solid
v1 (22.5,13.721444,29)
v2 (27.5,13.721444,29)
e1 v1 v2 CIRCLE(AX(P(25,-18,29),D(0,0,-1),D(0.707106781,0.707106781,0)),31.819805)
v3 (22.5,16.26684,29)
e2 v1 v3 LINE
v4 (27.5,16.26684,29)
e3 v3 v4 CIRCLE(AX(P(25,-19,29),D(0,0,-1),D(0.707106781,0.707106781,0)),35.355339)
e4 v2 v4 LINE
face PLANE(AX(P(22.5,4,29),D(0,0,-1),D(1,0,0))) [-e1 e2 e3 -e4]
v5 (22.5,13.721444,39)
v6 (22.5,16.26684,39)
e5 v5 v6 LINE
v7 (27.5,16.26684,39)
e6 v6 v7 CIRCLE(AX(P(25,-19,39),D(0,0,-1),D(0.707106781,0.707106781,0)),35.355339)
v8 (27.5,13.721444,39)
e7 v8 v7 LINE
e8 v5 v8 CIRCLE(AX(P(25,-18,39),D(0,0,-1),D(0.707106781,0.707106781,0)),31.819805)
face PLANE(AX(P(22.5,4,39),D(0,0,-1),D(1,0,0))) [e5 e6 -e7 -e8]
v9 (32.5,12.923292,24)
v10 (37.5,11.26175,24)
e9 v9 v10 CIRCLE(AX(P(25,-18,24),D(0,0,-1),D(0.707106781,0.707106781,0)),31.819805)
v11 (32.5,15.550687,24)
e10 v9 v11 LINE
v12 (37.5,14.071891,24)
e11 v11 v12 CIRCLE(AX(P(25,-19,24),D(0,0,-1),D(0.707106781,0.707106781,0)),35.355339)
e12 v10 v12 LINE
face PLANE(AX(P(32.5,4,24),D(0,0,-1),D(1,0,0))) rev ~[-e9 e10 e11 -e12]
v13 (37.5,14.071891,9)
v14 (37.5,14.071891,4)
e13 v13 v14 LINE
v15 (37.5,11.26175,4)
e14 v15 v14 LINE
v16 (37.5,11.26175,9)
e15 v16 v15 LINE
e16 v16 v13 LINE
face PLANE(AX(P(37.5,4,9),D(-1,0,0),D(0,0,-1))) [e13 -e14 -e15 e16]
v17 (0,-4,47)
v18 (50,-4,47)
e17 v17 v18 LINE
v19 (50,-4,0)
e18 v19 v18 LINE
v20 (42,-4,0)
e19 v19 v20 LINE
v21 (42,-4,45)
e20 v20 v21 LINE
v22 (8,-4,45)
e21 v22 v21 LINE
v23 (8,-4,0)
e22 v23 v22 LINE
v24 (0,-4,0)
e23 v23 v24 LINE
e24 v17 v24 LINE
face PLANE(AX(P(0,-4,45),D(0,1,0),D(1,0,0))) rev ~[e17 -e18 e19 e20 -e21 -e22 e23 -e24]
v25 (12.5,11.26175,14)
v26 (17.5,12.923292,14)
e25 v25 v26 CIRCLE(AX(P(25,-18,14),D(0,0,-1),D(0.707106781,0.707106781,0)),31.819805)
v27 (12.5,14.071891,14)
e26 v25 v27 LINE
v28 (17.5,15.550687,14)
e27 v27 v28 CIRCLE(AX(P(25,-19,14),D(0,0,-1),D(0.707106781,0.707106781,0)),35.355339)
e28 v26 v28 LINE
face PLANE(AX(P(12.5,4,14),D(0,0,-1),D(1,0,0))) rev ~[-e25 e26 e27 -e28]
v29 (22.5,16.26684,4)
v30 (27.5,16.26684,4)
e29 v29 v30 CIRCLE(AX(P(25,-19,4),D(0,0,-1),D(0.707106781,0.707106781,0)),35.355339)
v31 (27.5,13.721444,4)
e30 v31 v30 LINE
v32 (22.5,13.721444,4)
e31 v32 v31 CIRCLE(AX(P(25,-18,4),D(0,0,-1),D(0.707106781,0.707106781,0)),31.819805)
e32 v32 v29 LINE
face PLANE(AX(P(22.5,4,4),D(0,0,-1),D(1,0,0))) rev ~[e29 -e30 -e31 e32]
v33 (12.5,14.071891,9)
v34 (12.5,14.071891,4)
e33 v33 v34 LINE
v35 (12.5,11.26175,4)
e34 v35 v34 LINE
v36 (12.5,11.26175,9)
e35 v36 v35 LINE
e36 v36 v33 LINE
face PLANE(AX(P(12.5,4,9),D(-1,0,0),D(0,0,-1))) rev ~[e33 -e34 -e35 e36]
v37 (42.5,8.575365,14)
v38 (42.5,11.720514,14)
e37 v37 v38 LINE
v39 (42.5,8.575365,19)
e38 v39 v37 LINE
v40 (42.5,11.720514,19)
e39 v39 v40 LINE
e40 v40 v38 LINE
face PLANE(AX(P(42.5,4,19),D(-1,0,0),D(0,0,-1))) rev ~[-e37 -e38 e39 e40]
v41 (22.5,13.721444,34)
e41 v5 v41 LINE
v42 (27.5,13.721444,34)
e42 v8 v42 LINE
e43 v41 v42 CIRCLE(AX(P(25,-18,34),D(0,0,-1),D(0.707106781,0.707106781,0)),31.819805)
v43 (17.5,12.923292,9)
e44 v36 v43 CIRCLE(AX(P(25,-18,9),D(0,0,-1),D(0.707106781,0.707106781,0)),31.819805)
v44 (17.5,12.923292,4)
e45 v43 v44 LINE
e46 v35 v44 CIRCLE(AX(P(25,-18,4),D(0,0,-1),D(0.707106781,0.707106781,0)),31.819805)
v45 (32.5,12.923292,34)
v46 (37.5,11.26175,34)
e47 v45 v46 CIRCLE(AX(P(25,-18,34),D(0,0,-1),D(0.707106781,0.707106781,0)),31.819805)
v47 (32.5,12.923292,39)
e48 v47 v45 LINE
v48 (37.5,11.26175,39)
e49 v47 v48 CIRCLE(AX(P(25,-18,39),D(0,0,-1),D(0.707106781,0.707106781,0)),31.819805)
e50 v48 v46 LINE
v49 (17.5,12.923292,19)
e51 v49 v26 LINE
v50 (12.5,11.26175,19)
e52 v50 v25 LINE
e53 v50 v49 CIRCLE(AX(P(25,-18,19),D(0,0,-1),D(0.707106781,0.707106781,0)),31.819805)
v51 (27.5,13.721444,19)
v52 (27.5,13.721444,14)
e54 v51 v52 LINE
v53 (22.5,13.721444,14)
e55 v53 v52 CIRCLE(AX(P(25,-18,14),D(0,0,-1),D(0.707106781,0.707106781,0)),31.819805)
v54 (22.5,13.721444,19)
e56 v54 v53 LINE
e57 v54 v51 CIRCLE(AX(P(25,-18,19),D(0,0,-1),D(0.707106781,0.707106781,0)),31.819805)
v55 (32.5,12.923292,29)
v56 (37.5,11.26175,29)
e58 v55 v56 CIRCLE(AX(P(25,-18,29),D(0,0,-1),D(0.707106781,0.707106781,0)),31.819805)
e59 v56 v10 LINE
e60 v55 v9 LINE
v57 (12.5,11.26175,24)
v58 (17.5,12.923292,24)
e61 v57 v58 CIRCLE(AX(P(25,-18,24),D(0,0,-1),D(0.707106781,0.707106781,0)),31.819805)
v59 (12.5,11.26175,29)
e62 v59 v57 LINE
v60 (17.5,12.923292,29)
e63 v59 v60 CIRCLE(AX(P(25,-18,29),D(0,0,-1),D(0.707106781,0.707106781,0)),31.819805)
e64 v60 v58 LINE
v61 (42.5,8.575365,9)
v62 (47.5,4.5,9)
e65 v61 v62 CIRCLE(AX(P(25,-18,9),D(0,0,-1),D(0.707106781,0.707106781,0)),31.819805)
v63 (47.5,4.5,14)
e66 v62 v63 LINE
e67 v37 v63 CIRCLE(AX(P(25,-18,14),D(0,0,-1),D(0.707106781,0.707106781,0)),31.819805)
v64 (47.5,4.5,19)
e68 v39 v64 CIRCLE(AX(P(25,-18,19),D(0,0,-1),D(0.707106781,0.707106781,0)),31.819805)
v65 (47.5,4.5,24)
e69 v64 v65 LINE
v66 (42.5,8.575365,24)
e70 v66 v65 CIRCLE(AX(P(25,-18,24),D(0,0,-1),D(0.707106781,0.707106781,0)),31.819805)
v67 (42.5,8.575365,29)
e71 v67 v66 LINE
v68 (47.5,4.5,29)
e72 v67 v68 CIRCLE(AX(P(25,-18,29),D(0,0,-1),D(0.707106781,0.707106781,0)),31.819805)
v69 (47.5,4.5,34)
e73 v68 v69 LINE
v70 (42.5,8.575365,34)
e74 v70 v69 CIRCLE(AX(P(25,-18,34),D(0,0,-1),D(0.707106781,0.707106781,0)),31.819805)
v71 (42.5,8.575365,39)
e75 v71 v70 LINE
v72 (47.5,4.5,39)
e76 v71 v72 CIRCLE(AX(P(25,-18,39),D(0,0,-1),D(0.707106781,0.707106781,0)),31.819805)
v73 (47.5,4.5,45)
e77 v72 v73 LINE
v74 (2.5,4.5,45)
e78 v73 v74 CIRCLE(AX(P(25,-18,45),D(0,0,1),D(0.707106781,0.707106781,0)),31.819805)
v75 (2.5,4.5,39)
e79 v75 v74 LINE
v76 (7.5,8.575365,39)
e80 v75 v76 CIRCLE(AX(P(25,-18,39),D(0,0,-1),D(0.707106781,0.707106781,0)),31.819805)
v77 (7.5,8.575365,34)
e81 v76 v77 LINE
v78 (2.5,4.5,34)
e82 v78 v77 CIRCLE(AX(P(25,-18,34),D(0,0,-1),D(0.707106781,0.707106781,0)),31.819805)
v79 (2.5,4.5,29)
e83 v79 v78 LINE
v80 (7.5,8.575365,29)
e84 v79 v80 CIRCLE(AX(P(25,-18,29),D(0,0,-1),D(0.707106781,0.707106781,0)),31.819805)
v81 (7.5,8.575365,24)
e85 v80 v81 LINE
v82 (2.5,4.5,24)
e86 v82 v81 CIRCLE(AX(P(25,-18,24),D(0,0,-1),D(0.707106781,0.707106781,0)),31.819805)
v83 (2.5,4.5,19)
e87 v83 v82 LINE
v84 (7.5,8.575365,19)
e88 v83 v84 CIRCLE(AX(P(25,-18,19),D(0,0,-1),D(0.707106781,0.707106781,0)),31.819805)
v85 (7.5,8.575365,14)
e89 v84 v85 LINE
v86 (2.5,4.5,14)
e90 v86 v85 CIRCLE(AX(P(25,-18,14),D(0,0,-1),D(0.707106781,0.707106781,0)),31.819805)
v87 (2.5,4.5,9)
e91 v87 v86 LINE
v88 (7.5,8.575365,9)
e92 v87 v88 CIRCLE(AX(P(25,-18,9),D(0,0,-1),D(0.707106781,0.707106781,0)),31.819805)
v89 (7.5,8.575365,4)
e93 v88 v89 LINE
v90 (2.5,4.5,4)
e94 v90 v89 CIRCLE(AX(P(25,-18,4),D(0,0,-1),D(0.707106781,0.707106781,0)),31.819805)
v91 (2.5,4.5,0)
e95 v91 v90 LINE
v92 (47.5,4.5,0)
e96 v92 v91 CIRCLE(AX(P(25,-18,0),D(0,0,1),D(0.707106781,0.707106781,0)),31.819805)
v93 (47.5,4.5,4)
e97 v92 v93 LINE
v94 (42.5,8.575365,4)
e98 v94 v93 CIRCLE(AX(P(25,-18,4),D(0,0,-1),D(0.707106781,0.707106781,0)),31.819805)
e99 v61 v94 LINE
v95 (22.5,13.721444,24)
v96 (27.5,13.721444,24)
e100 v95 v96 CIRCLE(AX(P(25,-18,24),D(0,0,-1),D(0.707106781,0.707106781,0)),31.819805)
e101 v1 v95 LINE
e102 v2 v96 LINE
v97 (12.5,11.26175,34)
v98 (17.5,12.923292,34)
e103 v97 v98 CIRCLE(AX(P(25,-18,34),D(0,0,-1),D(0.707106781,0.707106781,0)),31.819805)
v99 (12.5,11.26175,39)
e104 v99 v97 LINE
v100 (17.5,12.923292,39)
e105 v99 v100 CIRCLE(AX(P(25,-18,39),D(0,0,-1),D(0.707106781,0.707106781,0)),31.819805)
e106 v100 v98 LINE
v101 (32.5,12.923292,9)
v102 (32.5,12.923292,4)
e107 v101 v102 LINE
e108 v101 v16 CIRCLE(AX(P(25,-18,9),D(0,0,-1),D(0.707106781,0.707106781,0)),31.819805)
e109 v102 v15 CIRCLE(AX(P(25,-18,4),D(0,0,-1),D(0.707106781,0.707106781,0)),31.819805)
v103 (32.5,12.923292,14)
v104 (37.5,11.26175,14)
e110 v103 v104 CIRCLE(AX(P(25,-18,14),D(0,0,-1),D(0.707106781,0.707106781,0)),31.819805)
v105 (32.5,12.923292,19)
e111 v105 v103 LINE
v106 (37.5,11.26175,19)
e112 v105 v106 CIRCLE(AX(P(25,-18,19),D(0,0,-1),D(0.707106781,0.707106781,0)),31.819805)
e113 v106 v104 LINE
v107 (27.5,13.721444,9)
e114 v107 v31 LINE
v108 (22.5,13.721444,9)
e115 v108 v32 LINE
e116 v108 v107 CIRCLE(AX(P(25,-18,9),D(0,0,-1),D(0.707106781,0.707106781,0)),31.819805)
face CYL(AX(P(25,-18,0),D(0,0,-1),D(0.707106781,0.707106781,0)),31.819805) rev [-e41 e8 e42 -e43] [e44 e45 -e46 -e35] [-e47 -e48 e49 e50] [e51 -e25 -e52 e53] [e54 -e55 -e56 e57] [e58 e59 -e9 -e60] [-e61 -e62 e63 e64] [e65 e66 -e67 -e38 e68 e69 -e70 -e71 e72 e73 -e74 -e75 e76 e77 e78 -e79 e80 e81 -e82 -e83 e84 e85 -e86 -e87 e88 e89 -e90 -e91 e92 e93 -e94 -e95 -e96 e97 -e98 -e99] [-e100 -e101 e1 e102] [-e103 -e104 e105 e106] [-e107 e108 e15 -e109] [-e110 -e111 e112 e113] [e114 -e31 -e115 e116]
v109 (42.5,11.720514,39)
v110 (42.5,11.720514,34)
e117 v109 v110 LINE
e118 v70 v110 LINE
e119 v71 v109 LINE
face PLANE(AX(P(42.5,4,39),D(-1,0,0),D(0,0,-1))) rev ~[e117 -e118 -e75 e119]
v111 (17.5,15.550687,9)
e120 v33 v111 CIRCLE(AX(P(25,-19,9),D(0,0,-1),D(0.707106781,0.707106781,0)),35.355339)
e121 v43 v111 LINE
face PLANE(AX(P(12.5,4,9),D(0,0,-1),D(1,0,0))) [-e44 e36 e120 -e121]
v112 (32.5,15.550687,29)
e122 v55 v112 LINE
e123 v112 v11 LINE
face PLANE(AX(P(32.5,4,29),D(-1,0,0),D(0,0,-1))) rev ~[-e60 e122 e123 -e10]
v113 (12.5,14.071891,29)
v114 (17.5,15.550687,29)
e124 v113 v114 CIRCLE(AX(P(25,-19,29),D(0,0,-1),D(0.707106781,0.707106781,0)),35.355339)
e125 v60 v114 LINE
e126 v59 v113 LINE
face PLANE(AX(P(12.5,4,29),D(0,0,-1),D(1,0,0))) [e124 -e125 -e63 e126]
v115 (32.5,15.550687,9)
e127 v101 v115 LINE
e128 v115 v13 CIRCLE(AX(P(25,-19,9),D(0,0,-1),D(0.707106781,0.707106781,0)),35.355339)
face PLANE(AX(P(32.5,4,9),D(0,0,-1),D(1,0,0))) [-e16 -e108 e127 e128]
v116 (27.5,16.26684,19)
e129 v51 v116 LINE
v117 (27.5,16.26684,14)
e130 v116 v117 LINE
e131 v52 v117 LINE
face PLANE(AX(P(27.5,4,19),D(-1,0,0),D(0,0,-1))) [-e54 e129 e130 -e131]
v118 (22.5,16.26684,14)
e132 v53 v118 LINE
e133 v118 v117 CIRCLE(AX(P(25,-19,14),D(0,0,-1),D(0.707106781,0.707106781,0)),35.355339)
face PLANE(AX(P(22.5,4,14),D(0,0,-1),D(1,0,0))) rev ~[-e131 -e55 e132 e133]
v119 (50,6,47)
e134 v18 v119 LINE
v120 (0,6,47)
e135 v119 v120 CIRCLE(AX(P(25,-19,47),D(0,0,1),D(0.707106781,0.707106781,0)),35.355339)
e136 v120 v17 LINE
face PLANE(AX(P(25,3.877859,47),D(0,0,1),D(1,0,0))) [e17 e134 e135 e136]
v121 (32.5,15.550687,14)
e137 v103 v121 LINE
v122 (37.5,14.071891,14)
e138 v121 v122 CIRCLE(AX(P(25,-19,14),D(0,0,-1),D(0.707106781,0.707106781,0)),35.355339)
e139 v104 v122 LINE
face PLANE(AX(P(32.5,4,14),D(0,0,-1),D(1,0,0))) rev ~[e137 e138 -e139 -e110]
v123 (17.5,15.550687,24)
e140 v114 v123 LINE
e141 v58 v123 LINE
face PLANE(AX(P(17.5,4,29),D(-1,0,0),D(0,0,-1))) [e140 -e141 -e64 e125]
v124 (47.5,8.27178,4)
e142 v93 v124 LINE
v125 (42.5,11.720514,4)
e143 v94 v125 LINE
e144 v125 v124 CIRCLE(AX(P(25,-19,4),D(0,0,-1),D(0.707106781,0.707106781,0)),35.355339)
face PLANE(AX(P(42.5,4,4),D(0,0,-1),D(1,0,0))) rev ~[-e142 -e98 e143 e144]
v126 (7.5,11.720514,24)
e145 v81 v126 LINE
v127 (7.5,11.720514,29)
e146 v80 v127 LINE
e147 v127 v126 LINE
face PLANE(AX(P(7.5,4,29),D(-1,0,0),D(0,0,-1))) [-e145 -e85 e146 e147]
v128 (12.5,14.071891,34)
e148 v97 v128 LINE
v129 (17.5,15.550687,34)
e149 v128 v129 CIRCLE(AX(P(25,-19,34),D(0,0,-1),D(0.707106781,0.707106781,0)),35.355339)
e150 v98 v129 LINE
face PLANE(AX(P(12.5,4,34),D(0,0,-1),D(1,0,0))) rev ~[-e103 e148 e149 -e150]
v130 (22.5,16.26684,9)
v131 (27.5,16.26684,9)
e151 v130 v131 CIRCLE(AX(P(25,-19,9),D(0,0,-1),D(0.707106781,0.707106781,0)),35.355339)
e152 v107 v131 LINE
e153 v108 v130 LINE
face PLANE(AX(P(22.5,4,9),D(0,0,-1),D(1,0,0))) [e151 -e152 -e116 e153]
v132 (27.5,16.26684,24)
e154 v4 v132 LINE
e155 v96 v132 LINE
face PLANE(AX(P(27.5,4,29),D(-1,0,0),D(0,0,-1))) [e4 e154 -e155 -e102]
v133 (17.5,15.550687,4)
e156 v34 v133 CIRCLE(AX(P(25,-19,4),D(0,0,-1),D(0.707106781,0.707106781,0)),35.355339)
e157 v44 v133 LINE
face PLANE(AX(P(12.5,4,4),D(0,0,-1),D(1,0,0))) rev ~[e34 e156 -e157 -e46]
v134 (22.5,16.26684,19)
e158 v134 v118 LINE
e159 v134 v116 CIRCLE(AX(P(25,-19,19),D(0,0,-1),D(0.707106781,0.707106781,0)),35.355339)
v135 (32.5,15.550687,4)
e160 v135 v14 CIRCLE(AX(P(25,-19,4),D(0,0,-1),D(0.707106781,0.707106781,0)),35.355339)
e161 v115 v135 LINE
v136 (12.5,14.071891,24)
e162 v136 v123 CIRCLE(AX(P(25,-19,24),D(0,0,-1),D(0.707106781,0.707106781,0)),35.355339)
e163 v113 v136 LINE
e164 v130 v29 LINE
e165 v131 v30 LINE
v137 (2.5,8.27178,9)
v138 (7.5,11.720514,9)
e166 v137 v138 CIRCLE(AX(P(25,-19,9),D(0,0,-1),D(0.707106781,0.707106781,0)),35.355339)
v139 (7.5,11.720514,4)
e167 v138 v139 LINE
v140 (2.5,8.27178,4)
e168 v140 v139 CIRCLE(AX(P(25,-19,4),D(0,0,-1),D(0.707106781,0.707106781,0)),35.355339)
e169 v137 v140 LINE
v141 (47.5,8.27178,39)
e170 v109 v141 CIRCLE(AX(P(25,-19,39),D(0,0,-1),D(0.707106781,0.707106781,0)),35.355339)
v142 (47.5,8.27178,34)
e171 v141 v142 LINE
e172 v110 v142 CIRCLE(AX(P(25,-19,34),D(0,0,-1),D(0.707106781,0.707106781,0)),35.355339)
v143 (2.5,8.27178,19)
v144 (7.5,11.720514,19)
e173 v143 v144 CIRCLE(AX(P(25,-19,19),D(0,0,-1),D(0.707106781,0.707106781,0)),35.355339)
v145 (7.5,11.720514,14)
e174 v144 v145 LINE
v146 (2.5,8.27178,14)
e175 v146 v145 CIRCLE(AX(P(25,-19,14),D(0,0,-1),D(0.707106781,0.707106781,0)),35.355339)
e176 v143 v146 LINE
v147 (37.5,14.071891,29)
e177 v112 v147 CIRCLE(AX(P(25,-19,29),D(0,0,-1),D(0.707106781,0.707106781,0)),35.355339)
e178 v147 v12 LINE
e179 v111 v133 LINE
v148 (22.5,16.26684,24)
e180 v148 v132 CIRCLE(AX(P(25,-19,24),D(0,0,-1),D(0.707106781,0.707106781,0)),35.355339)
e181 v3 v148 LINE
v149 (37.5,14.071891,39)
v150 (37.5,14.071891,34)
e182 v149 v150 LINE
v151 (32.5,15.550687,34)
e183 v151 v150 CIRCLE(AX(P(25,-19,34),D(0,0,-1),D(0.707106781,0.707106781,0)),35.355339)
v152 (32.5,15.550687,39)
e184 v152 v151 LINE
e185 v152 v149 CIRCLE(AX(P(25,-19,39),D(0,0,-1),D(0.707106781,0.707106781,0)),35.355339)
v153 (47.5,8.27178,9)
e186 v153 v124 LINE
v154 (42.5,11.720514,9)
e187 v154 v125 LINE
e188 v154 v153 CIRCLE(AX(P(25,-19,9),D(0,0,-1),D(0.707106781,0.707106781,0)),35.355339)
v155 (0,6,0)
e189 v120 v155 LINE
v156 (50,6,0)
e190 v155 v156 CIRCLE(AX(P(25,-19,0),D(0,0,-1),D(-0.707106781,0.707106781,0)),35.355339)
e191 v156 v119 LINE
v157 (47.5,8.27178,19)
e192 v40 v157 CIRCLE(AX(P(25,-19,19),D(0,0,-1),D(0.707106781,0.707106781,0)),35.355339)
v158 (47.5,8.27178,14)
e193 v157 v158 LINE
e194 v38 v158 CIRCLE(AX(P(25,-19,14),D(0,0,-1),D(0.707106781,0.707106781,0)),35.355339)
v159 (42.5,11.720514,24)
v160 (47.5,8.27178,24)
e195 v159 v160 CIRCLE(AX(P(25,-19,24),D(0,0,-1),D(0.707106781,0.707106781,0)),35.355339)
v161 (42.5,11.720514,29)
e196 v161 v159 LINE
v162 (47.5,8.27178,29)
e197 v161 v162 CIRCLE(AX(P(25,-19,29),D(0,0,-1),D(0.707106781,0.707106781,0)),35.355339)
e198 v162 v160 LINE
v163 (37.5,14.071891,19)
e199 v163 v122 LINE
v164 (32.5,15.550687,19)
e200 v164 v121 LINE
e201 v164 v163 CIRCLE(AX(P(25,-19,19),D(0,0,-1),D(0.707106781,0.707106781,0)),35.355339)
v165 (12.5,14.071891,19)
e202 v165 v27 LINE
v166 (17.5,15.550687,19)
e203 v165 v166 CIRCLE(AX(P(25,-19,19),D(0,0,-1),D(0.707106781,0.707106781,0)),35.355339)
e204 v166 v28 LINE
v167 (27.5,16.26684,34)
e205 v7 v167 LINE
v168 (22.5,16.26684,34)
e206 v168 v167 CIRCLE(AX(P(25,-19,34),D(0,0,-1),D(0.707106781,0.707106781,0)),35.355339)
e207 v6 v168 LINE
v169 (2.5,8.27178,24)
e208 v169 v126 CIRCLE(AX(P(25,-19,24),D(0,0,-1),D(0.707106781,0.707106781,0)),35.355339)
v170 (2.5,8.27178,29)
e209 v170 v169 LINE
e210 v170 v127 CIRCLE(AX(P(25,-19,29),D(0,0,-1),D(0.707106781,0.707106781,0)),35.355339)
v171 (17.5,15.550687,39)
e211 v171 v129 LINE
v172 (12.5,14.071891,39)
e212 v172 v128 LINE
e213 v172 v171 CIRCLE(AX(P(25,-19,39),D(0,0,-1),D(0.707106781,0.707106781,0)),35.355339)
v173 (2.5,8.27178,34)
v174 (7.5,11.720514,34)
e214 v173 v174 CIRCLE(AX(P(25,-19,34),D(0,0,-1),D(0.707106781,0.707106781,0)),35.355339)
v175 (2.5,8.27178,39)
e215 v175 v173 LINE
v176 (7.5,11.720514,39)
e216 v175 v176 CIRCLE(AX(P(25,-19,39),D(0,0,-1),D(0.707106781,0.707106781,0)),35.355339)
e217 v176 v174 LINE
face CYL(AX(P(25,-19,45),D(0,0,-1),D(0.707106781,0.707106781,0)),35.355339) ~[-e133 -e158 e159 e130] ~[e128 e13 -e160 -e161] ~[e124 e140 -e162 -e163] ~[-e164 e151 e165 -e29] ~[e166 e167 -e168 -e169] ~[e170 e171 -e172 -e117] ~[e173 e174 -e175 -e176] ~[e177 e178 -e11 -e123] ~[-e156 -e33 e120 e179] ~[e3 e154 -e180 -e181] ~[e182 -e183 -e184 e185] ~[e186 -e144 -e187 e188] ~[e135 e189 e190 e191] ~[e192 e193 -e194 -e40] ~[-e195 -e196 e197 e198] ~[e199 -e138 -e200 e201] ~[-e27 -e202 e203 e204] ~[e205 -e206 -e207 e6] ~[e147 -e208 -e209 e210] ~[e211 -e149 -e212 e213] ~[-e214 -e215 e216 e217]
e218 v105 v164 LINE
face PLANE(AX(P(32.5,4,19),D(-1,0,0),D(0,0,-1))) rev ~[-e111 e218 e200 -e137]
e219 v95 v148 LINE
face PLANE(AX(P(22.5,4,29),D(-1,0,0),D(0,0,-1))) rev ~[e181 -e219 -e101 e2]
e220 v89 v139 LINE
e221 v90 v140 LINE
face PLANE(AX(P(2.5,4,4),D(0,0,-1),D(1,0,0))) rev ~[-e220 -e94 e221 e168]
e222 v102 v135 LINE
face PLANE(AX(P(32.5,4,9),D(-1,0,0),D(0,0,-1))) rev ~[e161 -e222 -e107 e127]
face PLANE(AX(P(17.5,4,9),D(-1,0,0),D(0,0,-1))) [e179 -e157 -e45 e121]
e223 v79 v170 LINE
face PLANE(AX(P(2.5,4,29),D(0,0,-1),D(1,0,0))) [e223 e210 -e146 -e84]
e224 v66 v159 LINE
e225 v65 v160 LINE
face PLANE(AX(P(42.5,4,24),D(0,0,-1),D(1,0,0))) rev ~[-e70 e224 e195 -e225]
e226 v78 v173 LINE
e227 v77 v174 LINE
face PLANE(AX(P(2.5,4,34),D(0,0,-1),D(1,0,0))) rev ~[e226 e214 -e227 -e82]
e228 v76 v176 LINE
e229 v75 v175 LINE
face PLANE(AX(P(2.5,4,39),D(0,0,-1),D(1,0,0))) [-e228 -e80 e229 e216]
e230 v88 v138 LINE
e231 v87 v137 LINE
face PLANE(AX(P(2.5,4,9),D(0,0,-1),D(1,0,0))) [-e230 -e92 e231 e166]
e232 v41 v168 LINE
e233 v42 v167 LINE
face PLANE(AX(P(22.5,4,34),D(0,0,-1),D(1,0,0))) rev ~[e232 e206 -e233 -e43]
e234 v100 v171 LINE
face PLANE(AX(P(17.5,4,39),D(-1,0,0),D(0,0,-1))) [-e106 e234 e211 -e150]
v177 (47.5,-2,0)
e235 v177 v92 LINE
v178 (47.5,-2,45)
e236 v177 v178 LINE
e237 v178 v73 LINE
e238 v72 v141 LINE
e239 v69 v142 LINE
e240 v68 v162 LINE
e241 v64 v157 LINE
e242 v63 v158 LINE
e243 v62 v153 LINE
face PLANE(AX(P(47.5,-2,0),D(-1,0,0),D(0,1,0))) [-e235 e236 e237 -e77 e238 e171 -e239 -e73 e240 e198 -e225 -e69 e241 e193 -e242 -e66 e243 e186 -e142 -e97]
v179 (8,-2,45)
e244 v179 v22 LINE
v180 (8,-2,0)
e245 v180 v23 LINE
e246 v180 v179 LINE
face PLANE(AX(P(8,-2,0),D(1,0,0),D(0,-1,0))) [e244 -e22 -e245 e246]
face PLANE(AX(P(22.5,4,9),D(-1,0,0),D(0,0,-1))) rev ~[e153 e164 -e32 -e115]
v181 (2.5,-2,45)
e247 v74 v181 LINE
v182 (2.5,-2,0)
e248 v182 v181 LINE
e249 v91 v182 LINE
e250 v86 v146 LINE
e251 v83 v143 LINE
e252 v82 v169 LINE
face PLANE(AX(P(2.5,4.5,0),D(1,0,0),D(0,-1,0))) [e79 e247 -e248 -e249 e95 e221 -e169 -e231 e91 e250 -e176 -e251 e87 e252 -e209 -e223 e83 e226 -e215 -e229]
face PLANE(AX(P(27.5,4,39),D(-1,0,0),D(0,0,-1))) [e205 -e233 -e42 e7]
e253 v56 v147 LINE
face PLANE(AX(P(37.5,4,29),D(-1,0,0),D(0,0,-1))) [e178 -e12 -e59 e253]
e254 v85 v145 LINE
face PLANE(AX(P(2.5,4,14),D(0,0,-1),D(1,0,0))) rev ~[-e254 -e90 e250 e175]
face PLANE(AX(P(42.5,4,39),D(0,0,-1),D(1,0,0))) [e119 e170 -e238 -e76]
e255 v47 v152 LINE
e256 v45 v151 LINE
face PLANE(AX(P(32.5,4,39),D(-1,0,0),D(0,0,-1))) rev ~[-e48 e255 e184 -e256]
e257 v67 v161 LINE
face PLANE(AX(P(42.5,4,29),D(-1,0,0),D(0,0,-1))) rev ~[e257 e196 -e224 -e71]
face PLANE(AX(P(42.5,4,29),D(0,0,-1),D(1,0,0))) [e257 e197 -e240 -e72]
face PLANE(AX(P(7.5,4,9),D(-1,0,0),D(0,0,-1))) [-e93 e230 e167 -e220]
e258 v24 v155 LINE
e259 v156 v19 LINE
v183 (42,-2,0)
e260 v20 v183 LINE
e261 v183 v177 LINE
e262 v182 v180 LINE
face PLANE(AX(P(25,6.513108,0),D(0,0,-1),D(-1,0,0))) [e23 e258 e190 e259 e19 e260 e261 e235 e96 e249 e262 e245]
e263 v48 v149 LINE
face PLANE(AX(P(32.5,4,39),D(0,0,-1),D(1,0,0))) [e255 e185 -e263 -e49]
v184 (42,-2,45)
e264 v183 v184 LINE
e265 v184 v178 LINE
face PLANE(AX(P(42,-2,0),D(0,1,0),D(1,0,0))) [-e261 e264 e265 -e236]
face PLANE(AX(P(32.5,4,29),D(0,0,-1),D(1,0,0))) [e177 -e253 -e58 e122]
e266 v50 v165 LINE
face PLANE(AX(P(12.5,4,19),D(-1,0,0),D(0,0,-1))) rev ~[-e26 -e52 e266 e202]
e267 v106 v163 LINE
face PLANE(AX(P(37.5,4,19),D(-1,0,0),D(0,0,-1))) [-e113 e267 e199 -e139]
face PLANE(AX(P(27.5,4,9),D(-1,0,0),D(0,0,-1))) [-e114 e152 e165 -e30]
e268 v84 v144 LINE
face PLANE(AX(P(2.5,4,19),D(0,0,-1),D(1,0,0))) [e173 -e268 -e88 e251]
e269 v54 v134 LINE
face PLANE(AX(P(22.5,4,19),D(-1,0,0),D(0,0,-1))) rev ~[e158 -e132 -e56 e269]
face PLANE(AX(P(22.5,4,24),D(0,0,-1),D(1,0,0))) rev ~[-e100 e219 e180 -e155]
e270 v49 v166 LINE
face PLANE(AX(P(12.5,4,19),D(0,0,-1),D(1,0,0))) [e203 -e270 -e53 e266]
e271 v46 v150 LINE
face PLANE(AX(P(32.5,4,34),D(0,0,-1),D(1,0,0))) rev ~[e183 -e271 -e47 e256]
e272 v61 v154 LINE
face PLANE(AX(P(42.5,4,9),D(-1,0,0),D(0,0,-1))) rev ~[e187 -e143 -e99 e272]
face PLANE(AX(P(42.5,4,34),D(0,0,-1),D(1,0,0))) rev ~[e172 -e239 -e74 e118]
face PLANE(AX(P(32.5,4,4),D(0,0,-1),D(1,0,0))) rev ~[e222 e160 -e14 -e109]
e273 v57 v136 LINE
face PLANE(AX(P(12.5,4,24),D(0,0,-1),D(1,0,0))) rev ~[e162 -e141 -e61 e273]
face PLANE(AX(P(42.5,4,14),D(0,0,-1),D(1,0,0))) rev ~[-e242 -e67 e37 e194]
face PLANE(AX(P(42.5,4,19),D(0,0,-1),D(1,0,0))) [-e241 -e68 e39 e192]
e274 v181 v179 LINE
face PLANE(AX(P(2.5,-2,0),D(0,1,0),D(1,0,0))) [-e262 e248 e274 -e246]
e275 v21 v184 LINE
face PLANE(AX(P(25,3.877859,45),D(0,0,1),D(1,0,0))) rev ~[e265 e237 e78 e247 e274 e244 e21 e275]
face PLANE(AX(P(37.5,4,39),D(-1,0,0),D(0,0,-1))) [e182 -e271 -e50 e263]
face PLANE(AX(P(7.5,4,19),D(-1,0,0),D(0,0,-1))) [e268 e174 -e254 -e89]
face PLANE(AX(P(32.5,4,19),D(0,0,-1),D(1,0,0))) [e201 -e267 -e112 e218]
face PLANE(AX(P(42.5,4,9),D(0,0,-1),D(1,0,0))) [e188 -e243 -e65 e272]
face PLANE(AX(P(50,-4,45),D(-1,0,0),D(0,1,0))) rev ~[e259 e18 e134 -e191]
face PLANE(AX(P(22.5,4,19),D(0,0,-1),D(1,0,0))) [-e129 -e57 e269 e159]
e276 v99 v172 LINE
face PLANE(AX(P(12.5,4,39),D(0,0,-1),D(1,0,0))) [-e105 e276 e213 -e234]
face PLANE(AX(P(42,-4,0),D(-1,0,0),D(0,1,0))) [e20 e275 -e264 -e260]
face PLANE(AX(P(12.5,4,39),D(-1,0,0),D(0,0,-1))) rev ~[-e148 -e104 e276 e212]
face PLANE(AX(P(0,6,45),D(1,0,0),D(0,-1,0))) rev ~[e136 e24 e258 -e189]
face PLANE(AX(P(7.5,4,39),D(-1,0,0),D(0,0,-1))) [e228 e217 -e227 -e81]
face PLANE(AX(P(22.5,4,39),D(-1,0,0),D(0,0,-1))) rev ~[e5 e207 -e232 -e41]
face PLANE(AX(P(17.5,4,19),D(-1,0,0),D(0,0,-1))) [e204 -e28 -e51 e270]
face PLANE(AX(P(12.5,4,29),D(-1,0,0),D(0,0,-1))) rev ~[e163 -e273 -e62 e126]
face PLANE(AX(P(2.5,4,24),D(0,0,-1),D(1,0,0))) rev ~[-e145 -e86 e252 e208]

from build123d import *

# Parameters (mm, degrees)
EXTRUDE_1_DEPTH     = 45
EXTRUDE_2_DEPTH     = 2
SKETCH_5_W          = 5
SKETCH_5_H          = 5
CUT_EXTRUDE_1_DEPTH = 46


with BuildPart() as part:
    # Эскиз1 → Бобышка-Вытянуть1 (new body)
    with BuildSketch(Plane.XY):
        with BuildLine():
            Line((0, 0), (0, 6))
            ThreePointArc((0, 6), (25, 16.355339059), (50, 6))
            Line((50, 6), (50, 0))
            Line((50, 0), (50, -4))
            Line((50, -4), (42, -4))
            Line((42, -4), (42, -2))
            Line((42, -2), (47.5, -2))
            Line((47.5, -2), (47.5, 0))
            Line((47.5, 0), (47.5, 4.5))
            ThreePointArc((47.5, 4.5), (25, 13.819805153), (2.5, 4.5))
            Line((2.5, 4.5), (2.5, 0))
            Line((2.5, 0), (2.5, -2))
            Line((2.5, -2), (8, -2))
            Line((8, -2), (8, -4))
            Line((8, -4), (0, -4))
            Line((0, -4), (0, 0))
        make_face()
    extrude(amount=EXTRUDE_1_DEPTH)

    # Эскиз3 → Бобышка-Вытянуть2 (add)
    with BuildSketch(Plane.XY.offset(45)):
        with BuildLine():
            Line((0, -4), (50, -4))
            Line((50, -4), (50, 6))
            ThreePointArc((50, 6), (25, 16.355339059), (0, 6))
            Line((0, 6), (0, -4))
        make_face()
    extrude(amount=EXTRUDE_2_DEPTH)

    # Эскиз5 → Вырез-Вытянуть1 (cut)
    with BuildSketch(Plane(origin=(0, 4, 0), x_dir=(1, 0, 0), z_dir=(0, 1, 0))):
        with Locations((15, -6.5)):
            Rectangle(SKETCH_5_W, SKETCH_5_H)
        with Locations((5, -6.5)):
            Rectangle(SKETCH_5_W, SKETCH_5_H)
        with Locations((25, -6.5)):
            Rectangle(SKETCH_5_W, SKETCH_5_H)
        with Locations((35, -6.5)):
            Rectangle(SKETCH_5_W, SKETCH_5_H)
        with Locations((45, -6.5)):
            Rectangle(SKETCH_5_W, SKETCH_5_H)
        with Locations((15, -16.5)):
            Rectangle(SKETCH_5_W, SKETCH_5_H)
        with Locations((5, -16.5)):
            Rectangle(SKETCH_5_W, SKETCH_5_H)
        with Locations((25, -16.5)):
            Rectangle(SKETCH_5_W, SKETCH_5_H)
        with Locations((35, -16.5)):
            Rectangle(SKETCH_5_W, SKETCH_5_H)
        with Locations((45, -16.5)):
            Rectangle(SKETCH_5_W, SKETCH_5_H)
        with Locations((15, -26.5)):
            Rectangle(SKETCH_5_W, SKETCH_5_H)
        with Locations((5, -26.5)):
            Rectangle(SKETCH_5_W, SKETCH_5_H)
        with Locations((25, -26.5)):
            Rectangle(SKETCH_5_W, SKETCH_5_H)
        with Locations((35, -26.5)):
            Rectangle(SKETCH_5_W, SKETCH_5_H)
        with Locations((45, -26.5)):
            Rectangle(SKETCH_5_W, SKETCH_5_H)
        with Locations((15, -36.5)):
            Rectangle(SKETCH_5_W, SKETCH_5_H)
        with Locations((5, -36.5)):
            Rectangle(SKETCH_5_W, SKETCH_5_H)
        with Locations((25, -36.5)):
            Rectangle(SKETCH_5_W, SKETCH_5_H)
        with Locations((35, -36.5)):
            Rectangle(SKETCH_5_W, SKETCH_5_H)
        with Locations((45, -36.5)):
            Rectangle(SKETCH_5_W, SKETCH_5_H)
    extrude(amount=CUT_EXTRUDE_1_DEPTH, mode=Mode.SUBTRACT)


solid = part.part
